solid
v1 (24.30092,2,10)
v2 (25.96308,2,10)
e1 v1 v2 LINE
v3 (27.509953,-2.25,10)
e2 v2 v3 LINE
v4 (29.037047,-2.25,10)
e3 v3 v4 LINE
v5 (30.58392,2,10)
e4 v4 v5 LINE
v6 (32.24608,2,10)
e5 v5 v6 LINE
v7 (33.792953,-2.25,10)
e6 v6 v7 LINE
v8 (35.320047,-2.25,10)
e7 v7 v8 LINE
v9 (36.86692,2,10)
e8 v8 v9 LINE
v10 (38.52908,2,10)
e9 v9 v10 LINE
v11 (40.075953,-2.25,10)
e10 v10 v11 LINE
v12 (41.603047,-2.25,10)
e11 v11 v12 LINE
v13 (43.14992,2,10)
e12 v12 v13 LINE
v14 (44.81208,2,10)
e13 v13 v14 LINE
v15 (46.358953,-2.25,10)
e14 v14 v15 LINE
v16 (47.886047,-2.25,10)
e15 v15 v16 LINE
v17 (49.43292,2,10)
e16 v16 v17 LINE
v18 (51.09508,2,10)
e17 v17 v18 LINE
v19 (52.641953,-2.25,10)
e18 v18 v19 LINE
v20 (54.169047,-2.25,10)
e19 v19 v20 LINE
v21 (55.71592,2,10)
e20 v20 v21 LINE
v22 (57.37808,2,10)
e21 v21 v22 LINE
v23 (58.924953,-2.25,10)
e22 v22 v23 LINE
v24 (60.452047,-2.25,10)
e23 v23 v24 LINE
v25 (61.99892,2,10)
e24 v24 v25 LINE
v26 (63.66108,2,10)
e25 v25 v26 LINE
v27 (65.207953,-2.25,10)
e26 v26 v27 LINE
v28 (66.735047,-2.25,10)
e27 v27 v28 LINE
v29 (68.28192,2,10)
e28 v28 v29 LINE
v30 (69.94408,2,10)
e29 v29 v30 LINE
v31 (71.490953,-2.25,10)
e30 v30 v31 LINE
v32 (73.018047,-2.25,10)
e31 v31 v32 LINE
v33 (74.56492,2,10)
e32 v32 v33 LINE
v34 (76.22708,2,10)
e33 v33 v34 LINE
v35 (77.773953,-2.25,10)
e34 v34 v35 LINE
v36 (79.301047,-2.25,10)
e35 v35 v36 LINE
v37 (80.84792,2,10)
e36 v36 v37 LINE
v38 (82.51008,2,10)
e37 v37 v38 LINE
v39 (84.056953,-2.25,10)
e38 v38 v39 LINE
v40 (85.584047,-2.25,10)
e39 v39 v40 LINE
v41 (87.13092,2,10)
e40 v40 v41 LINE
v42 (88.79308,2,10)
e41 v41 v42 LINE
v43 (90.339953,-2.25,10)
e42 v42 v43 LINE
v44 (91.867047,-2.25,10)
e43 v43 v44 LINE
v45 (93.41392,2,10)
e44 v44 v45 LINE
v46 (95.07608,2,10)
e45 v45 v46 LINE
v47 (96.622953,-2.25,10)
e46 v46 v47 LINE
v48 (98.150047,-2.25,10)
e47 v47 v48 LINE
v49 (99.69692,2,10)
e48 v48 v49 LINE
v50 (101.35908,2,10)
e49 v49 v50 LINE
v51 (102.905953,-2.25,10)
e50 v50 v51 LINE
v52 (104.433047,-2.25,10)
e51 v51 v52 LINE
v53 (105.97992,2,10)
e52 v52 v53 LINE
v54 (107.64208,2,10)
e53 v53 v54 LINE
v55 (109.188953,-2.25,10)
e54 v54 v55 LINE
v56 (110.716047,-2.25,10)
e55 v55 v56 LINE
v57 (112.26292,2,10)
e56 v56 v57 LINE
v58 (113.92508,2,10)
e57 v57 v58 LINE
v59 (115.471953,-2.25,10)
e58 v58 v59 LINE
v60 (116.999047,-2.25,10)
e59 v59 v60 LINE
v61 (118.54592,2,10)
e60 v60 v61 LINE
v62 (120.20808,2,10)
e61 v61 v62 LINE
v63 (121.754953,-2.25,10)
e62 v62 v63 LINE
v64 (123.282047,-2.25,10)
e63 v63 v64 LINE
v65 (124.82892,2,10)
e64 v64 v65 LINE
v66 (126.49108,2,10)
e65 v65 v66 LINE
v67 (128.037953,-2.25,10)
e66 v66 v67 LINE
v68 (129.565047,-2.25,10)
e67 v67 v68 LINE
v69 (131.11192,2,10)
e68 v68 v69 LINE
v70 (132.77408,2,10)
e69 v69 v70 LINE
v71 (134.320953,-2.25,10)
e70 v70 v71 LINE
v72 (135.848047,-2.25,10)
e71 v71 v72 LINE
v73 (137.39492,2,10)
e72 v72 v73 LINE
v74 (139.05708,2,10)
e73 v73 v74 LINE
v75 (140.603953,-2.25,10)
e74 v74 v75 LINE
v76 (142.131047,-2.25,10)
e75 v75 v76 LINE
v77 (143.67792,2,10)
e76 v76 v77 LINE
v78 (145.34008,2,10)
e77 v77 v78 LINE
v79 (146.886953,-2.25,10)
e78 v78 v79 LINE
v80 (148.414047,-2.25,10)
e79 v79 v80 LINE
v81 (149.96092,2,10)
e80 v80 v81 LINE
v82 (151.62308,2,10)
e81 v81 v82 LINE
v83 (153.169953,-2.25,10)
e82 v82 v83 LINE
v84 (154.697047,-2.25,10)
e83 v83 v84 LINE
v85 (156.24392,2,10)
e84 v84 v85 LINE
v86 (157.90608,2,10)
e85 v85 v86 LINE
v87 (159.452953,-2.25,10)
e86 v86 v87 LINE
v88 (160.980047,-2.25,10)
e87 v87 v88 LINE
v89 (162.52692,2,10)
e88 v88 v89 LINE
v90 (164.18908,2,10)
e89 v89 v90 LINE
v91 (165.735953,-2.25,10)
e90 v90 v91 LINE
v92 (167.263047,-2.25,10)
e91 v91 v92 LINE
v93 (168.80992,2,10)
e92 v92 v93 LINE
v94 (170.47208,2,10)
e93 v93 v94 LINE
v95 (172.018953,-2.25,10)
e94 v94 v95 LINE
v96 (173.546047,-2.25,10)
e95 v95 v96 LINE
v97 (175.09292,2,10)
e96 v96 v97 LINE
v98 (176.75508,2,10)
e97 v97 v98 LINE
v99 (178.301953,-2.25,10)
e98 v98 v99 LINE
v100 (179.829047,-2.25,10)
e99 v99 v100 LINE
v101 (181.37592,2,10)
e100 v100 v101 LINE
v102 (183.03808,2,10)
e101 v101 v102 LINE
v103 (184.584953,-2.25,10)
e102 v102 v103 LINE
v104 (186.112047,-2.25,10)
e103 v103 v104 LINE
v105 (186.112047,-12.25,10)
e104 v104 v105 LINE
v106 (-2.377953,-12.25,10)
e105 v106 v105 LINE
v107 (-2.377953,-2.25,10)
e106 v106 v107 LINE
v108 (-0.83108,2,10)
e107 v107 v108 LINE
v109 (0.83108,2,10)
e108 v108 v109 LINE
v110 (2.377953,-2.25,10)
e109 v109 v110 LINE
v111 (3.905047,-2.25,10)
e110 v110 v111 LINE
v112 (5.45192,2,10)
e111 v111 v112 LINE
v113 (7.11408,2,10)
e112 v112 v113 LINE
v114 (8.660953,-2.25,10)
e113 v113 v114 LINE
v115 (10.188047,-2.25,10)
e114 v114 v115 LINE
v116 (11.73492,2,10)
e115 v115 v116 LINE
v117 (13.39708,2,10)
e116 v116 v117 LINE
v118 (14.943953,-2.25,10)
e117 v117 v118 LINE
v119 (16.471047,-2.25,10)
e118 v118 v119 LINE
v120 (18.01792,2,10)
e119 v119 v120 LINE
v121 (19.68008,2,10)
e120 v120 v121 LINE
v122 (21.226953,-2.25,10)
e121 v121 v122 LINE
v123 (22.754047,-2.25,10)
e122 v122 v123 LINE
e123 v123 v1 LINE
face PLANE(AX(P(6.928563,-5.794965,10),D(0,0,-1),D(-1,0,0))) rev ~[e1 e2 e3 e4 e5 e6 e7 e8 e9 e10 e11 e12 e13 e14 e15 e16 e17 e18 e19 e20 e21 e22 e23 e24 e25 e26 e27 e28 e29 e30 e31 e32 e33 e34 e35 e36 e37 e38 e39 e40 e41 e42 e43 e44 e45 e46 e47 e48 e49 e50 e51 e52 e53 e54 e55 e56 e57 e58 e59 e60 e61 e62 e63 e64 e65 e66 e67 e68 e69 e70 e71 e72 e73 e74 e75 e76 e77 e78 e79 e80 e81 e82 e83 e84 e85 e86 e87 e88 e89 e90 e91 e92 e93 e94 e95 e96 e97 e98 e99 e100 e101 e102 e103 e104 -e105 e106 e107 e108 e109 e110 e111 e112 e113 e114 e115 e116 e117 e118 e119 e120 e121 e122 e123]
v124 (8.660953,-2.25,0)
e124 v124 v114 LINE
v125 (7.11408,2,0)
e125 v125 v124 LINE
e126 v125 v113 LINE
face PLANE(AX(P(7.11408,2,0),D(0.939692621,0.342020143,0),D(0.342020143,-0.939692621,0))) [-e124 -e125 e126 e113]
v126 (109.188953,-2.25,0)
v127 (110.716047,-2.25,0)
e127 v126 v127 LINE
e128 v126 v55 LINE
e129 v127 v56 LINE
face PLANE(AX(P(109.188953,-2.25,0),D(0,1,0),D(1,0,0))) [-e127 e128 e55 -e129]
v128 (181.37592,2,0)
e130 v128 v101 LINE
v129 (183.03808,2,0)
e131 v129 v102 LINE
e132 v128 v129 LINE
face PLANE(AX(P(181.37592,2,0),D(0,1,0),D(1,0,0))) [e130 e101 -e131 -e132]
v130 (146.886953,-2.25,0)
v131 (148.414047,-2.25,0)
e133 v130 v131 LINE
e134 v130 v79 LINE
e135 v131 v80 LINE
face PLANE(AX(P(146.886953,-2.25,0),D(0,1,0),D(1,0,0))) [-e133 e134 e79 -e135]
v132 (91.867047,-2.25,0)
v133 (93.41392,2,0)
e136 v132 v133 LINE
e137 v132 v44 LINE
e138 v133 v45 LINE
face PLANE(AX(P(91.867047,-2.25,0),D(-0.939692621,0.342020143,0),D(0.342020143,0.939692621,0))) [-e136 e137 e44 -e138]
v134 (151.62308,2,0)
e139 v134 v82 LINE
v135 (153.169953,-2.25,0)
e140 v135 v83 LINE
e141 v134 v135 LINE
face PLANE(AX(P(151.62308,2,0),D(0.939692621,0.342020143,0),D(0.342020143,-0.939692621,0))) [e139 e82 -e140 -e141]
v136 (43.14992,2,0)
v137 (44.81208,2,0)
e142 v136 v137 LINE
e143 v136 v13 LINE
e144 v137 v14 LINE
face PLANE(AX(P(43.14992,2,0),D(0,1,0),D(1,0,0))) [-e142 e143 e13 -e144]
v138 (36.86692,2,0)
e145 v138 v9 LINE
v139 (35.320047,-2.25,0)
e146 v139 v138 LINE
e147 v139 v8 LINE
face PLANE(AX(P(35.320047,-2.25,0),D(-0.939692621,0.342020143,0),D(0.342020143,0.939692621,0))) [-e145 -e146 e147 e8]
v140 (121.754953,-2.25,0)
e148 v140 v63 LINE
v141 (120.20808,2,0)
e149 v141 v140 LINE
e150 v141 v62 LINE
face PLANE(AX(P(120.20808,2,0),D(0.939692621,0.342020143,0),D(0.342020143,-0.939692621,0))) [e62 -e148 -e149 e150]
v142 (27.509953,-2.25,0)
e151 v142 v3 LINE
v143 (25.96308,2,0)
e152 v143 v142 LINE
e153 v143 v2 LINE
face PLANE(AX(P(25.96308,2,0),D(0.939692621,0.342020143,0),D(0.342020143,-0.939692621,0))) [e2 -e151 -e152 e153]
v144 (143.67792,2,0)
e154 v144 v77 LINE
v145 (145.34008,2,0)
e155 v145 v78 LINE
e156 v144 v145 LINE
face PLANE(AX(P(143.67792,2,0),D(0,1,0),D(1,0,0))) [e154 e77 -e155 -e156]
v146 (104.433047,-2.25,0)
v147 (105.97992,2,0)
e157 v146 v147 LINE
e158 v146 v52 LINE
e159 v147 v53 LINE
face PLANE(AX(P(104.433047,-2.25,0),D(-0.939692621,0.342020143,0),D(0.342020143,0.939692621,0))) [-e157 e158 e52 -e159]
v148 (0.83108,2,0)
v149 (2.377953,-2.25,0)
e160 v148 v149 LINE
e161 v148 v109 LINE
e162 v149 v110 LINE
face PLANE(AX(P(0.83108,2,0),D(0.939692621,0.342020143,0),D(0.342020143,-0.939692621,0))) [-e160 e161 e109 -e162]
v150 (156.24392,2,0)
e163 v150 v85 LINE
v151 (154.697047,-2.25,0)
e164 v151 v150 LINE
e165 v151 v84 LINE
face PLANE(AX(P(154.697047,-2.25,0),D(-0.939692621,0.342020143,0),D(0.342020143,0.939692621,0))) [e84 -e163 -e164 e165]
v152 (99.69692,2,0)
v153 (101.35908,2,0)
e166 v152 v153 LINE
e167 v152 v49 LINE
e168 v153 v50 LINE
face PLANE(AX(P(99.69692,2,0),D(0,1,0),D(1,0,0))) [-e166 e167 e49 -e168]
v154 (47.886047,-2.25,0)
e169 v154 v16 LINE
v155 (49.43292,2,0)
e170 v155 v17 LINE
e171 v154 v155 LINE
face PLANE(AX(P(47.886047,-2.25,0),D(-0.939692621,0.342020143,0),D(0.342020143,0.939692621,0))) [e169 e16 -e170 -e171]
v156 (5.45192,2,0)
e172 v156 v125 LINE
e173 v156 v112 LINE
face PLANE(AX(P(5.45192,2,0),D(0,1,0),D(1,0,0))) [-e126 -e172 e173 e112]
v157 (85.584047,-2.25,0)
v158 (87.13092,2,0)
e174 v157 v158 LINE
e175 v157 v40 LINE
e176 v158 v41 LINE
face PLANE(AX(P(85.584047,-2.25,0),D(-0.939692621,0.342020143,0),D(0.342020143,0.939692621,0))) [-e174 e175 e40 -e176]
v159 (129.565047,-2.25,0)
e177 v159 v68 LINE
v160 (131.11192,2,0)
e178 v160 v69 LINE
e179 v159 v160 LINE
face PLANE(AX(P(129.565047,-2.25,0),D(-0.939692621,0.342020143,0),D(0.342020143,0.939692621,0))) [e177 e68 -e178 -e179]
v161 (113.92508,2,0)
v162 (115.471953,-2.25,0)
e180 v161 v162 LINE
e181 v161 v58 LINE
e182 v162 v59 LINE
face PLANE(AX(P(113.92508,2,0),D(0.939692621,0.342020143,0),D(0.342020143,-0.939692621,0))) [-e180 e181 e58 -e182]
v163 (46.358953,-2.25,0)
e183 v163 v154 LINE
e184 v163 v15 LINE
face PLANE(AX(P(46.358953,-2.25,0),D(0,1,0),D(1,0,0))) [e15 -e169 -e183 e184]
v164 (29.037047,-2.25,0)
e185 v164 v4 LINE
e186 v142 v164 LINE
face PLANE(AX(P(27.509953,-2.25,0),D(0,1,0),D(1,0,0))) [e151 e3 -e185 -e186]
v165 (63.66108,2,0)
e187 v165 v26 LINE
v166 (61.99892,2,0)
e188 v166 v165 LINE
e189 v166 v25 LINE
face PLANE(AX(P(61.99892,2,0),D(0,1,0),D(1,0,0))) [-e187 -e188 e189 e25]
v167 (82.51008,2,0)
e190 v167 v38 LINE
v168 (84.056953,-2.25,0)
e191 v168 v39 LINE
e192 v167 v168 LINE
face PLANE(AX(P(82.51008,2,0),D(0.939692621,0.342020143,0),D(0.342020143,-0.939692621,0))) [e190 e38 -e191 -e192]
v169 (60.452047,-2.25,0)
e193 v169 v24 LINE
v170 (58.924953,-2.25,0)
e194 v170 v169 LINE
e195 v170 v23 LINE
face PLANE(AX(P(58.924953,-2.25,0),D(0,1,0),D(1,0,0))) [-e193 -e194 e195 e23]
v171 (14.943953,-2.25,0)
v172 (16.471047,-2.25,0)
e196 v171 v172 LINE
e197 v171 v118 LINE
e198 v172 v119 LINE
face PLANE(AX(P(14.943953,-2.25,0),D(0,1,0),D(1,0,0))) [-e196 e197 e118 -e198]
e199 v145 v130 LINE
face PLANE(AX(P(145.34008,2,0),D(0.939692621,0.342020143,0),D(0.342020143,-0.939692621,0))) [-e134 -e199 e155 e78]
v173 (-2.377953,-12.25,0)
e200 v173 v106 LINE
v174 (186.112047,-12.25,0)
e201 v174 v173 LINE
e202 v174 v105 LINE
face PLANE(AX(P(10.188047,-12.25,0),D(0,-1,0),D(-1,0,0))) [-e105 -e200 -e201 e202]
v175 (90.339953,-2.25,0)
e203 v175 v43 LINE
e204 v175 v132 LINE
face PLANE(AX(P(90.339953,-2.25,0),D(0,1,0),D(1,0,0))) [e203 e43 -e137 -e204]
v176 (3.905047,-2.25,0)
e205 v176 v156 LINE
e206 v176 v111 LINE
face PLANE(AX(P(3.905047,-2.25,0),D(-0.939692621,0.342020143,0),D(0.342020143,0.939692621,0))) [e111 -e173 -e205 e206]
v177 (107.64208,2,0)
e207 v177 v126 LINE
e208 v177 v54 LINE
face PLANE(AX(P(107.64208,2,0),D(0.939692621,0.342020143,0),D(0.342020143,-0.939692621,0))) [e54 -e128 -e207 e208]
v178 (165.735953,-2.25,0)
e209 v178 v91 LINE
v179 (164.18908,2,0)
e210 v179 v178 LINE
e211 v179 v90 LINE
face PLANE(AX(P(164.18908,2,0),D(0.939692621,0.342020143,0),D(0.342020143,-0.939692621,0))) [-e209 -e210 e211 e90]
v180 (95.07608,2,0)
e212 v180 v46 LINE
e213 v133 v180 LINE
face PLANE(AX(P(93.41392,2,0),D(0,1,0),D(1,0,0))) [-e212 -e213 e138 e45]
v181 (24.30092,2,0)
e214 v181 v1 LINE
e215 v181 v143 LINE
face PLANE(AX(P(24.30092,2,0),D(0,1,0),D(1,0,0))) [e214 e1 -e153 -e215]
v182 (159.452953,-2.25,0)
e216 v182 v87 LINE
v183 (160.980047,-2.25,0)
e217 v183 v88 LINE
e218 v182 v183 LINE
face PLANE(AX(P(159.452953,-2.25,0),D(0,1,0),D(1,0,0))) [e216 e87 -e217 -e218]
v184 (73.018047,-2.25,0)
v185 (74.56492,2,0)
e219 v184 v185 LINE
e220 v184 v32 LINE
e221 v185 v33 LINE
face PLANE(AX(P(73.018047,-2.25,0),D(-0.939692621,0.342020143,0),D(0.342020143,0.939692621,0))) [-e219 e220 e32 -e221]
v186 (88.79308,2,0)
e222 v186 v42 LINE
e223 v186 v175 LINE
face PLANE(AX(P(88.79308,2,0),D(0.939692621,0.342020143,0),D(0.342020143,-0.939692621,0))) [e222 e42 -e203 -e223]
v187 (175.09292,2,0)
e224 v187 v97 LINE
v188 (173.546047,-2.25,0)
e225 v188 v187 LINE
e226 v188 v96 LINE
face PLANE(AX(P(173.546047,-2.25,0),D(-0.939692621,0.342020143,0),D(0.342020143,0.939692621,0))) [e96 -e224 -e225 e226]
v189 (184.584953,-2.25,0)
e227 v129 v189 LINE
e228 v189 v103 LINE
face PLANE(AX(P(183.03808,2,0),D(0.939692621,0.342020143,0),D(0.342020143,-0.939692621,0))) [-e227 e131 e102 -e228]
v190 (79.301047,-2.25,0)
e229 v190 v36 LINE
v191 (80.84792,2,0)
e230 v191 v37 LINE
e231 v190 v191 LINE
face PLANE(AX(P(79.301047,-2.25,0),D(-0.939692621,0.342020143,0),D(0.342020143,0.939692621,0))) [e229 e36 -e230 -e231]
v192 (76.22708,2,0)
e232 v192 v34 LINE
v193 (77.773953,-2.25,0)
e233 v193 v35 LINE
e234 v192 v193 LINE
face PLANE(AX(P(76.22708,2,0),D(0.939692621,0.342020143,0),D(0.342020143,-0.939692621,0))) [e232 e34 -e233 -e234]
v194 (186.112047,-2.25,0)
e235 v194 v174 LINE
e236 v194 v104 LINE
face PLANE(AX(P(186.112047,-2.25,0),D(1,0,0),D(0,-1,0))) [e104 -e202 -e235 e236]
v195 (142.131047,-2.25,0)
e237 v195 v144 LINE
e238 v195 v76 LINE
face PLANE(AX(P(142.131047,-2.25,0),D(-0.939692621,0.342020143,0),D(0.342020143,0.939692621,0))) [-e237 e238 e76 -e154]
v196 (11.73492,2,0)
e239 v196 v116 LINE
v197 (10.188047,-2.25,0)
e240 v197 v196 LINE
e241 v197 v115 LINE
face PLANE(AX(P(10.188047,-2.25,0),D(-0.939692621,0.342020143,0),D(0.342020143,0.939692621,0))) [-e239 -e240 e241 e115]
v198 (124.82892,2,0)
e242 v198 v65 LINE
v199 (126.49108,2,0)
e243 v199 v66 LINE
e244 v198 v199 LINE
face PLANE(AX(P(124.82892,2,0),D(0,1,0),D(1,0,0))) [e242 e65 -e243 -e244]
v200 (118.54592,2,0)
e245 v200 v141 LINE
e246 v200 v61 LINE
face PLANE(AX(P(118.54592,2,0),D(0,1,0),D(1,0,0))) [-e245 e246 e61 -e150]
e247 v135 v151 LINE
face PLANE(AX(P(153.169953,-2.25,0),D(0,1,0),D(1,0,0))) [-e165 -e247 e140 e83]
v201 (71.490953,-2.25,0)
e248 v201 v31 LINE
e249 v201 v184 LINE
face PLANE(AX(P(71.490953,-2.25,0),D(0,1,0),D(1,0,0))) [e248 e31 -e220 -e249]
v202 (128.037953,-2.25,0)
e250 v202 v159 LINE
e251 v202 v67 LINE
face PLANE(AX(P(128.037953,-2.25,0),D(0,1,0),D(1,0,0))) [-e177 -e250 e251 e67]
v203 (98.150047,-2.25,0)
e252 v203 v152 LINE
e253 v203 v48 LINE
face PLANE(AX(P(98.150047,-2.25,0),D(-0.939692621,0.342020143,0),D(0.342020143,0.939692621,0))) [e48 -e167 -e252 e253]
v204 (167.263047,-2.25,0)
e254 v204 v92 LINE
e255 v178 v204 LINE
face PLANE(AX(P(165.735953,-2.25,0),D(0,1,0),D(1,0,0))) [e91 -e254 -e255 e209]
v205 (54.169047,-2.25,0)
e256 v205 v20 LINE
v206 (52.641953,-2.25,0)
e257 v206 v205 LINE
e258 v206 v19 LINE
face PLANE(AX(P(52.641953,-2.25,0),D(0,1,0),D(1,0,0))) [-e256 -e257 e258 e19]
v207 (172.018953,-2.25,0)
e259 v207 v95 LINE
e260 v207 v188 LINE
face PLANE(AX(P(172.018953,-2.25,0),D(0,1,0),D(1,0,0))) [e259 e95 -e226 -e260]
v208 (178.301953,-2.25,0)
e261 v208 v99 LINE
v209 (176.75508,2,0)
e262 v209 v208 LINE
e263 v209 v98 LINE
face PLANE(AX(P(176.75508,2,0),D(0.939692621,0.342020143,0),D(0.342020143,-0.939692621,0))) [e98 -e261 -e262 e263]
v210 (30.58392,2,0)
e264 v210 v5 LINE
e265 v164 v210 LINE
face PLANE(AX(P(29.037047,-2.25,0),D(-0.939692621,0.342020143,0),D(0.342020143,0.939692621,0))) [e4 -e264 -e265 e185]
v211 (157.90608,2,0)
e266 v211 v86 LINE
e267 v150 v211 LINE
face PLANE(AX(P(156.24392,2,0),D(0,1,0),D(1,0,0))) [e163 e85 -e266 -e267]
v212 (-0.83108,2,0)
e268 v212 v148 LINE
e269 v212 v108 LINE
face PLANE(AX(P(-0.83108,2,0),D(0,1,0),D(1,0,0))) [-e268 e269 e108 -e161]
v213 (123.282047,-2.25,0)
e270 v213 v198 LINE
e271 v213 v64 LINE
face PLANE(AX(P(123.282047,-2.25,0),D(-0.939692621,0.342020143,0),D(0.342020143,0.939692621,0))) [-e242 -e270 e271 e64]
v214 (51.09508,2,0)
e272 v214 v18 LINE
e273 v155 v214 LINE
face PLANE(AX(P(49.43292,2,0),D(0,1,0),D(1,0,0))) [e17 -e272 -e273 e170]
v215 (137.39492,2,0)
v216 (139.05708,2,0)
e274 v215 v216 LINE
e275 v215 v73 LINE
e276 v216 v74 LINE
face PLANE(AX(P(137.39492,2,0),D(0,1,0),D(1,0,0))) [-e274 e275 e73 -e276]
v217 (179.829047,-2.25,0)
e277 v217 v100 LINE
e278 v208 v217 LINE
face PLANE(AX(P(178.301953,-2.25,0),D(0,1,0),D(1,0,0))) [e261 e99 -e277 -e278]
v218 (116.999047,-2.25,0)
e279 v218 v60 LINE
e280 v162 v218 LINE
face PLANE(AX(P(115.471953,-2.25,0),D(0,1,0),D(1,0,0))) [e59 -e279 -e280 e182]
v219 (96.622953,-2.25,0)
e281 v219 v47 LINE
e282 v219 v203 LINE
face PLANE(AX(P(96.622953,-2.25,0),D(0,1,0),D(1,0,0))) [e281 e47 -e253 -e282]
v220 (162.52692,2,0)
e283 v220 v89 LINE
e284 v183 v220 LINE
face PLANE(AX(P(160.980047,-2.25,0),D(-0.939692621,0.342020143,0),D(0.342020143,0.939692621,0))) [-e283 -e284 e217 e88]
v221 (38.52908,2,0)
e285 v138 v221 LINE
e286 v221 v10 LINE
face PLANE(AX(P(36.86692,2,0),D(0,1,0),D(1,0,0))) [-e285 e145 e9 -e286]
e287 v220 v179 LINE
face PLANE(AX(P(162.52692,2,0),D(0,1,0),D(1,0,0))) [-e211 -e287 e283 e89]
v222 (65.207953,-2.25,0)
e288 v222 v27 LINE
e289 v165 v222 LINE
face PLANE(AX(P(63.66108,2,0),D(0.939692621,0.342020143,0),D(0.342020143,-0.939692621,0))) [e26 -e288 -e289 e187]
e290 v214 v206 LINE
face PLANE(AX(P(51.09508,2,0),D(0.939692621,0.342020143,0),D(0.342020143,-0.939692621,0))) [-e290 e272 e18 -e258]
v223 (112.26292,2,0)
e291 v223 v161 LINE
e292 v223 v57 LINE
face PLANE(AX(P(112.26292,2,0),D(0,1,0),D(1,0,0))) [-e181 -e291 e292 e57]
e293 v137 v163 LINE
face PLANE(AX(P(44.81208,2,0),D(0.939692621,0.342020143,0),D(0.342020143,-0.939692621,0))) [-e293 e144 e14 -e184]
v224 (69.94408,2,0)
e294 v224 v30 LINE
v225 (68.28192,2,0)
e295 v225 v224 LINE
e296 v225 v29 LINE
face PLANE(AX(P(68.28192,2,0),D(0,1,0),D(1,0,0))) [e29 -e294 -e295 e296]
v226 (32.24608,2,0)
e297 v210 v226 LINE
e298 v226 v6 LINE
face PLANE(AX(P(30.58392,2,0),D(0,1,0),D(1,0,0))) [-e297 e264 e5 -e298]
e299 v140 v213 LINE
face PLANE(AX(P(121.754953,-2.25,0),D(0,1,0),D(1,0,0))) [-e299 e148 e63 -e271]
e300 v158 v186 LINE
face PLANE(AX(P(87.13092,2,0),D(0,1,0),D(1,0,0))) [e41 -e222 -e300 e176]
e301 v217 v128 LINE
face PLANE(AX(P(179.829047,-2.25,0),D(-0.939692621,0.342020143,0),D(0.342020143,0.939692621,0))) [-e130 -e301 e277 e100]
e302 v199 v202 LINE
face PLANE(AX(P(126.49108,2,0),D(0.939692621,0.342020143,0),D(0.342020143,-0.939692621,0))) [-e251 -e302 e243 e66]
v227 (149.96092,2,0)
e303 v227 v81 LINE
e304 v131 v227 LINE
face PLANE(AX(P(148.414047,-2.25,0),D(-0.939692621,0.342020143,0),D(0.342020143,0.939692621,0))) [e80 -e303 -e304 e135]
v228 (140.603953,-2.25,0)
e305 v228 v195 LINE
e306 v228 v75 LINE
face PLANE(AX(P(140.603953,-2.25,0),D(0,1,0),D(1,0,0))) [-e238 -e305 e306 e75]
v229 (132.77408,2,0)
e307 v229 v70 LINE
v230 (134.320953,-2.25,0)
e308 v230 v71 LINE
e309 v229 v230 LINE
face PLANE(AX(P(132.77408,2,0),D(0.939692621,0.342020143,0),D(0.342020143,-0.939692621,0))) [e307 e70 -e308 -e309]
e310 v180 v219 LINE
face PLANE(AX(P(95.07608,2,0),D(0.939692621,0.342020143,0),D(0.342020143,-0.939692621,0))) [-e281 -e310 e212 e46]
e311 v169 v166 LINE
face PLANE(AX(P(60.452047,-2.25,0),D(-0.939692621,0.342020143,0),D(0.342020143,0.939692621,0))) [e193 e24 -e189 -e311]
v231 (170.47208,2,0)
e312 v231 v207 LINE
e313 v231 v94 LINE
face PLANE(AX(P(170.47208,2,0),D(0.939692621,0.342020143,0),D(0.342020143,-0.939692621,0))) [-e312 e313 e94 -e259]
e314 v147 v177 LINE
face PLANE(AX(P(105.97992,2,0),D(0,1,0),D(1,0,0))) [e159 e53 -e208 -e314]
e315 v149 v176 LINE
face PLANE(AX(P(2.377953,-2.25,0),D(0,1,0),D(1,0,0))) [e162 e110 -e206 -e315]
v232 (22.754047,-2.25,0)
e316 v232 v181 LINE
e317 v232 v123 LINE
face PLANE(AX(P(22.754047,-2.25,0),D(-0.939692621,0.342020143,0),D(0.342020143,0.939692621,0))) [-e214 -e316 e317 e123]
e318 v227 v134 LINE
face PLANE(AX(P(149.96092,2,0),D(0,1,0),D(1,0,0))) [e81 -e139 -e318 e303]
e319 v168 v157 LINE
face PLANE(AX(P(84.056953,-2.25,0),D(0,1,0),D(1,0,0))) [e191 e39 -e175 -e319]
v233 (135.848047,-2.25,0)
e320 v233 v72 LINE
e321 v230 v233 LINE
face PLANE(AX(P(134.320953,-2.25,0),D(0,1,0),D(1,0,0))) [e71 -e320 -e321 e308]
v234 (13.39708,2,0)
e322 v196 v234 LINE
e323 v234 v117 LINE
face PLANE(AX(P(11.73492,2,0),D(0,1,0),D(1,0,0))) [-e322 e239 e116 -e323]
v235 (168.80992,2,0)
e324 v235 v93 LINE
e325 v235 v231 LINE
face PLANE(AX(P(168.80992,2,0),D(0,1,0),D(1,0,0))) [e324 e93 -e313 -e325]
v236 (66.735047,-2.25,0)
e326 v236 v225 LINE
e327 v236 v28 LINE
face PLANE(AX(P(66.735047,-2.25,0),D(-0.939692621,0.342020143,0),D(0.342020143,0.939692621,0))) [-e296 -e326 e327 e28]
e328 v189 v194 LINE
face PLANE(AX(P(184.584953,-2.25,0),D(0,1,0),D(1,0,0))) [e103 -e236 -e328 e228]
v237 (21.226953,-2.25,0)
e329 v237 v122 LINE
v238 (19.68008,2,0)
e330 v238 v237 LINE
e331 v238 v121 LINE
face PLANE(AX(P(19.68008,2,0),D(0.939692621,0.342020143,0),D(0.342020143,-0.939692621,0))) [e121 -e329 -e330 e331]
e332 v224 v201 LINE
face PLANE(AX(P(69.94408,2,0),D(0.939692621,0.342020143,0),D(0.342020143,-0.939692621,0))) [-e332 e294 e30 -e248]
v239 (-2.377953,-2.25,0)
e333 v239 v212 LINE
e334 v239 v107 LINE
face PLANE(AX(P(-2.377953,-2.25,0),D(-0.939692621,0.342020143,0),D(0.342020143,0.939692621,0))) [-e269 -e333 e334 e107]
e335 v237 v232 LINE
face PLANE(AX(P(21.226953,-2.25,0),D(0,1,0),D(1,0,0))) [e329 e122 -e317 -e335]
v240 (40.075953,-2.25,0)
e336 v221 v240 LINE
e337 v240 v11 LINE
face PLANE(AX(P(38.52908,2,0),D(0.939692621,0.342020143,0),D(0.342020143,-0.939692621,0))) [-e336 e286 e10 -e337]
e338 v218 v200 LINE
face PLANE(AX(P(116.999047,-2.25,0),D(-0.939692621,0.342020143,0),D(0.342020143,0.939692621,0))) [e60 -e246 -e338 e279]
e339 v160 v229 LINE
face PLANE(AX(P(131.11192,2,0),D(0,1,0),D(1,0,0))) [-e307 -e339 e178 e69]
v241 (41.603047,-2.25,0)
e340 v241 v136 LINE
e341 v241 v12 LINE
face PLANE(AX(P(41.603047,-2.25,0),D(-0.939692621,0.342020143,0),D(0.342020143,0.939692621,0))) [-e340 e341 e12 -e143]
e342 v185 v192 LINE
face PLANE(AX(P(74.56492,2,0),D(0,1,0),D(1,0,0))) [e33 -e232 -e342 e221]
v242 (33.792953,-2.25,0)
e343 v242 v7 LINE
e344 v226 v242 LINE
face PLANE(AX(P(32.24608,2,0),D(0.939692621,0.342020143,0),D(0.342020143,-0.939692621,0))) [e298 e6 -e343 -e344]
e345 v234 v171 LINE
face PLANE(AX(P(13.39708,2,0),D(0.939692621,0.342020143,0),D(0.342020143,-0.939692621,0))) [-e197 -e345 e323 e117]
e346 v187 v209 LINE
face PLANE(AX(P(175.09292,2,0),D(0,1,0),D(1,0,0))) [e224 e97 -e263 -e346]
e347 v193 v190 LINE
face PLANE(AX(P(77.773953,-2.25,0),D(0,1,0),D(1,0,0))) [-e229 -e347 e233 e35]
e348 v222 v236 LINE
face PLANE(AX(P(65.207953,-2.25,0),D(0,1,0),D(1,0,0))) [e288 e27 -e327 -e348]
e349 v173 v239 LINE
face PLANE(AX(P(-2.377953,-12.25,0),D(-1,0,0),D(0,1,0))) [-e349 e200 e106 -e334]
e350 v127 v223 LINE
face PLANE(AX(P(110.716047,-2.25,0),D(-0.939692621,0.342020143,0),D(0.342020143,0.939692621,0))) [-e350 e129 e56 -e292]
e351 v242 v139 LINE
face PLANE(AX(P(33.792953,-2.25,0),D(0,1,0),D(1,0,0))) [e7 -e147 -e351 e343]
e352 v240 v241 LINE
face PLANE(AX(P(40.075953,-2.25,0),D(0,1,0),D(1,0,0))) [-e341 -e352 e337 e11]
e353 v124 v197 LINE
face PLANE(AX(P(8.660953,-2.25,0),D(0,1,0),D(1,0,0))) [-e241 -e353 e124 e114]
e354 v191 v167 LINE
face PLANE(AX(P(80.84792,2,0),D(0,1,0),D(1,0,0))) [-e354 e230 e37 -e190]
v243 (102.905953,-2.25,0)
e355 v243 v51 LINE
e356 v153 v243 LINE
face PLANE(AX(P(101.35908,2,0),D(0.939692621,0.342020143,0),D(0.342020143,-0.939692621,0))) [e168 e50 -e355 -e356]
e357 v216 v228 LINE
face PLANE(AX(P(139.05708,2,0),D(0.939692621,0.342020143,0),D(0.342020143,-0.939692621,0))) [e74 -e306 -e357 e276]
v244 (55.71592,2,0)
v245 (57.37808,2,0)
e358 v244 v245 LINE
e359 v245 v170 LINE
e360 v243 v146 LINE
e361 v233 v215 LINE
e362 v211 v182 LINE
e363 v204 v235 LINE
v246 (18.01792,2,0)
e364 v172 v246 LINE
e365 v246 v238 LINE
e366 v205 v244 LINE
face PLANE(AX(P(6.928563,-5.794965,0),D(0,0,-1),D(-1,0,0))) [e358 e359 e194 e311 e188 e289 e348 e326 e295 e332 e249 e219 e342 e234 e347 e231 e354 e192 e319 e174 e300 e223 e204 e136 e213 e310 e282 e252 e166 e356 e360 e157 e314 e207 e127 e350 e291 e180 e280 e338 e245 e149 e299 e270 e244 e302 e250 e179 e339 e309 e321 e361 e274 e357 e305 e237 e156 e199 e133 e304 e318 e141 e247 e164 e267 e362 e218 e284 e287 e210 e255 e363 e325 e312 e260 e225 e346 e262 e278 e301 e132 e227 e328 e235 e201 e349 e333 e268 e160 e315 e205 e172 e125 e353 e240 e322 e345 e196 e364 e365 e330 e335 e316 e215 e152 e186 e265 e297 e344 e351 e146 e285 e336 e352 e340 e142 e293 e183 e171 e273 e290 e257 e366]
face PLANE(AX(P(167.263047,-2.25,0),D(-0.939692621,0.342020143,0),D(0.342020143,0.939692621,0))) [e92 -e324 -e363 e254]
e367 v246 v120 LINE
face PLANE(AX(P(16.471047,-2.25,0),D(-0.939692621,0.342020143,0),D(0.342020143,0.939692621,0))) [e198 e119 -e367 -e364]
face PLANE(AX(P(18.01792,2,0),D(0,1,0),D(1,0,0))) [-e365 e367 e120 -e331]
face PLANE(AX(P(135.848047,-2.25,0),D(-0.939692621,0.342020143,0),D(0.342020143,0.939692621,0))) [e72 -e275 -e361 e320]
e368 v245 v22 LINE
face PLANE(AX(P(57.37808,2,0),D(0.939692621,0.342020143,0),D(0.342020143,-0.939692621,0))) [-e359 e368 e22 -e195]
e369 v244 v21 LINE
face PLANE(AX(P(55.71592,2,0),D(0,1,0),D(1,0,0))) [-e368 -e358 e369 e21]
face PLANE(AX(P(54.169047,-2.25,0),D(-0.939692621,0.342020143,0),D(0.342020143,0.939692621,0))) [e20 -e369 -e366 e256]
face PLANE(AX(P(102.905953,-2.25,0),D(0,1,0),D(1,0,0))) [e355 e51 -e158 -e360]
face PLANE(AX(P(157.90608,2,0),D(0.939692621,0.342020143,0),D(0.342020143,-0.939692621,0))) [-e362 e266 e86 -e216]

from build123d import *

# Parameters (mm, degrees)
BOSS_EXTRU_1_DEPTH         = 10
R_P_TITION_LIN_AIRE1_COUNT = 30
R_P_TITION_LIN_AIRE1_PITCH = 6.283


with BuildPart() as part:
    # Esquisse1 → Boss.-Extru.1 (new body)
    with BuildSketch(Plane.XY):
        Polygon((0.831079968, 2), (2.377953464, -2.25), (3.905046536, -2.25), (3.905046536, -12.25), (-2.377953464, -12.25), (-2.377953464, -2.25), (-0.831079968, 2), align=None)
    boss_extru_1 = extrude(amount=BOSS_EXTRU_1_DEPTH)

    # Répétition linéaire1: Boss.-Extru.1 ×30
    with Locations(*[(i * R_P_TITION_LIN_AIRE1_PITCH, 0, 0) for i in range(1, R_P_TITION_LIN_AIRE1_COUNT)]):
        add(boss_extru_1)


solid = part.part
